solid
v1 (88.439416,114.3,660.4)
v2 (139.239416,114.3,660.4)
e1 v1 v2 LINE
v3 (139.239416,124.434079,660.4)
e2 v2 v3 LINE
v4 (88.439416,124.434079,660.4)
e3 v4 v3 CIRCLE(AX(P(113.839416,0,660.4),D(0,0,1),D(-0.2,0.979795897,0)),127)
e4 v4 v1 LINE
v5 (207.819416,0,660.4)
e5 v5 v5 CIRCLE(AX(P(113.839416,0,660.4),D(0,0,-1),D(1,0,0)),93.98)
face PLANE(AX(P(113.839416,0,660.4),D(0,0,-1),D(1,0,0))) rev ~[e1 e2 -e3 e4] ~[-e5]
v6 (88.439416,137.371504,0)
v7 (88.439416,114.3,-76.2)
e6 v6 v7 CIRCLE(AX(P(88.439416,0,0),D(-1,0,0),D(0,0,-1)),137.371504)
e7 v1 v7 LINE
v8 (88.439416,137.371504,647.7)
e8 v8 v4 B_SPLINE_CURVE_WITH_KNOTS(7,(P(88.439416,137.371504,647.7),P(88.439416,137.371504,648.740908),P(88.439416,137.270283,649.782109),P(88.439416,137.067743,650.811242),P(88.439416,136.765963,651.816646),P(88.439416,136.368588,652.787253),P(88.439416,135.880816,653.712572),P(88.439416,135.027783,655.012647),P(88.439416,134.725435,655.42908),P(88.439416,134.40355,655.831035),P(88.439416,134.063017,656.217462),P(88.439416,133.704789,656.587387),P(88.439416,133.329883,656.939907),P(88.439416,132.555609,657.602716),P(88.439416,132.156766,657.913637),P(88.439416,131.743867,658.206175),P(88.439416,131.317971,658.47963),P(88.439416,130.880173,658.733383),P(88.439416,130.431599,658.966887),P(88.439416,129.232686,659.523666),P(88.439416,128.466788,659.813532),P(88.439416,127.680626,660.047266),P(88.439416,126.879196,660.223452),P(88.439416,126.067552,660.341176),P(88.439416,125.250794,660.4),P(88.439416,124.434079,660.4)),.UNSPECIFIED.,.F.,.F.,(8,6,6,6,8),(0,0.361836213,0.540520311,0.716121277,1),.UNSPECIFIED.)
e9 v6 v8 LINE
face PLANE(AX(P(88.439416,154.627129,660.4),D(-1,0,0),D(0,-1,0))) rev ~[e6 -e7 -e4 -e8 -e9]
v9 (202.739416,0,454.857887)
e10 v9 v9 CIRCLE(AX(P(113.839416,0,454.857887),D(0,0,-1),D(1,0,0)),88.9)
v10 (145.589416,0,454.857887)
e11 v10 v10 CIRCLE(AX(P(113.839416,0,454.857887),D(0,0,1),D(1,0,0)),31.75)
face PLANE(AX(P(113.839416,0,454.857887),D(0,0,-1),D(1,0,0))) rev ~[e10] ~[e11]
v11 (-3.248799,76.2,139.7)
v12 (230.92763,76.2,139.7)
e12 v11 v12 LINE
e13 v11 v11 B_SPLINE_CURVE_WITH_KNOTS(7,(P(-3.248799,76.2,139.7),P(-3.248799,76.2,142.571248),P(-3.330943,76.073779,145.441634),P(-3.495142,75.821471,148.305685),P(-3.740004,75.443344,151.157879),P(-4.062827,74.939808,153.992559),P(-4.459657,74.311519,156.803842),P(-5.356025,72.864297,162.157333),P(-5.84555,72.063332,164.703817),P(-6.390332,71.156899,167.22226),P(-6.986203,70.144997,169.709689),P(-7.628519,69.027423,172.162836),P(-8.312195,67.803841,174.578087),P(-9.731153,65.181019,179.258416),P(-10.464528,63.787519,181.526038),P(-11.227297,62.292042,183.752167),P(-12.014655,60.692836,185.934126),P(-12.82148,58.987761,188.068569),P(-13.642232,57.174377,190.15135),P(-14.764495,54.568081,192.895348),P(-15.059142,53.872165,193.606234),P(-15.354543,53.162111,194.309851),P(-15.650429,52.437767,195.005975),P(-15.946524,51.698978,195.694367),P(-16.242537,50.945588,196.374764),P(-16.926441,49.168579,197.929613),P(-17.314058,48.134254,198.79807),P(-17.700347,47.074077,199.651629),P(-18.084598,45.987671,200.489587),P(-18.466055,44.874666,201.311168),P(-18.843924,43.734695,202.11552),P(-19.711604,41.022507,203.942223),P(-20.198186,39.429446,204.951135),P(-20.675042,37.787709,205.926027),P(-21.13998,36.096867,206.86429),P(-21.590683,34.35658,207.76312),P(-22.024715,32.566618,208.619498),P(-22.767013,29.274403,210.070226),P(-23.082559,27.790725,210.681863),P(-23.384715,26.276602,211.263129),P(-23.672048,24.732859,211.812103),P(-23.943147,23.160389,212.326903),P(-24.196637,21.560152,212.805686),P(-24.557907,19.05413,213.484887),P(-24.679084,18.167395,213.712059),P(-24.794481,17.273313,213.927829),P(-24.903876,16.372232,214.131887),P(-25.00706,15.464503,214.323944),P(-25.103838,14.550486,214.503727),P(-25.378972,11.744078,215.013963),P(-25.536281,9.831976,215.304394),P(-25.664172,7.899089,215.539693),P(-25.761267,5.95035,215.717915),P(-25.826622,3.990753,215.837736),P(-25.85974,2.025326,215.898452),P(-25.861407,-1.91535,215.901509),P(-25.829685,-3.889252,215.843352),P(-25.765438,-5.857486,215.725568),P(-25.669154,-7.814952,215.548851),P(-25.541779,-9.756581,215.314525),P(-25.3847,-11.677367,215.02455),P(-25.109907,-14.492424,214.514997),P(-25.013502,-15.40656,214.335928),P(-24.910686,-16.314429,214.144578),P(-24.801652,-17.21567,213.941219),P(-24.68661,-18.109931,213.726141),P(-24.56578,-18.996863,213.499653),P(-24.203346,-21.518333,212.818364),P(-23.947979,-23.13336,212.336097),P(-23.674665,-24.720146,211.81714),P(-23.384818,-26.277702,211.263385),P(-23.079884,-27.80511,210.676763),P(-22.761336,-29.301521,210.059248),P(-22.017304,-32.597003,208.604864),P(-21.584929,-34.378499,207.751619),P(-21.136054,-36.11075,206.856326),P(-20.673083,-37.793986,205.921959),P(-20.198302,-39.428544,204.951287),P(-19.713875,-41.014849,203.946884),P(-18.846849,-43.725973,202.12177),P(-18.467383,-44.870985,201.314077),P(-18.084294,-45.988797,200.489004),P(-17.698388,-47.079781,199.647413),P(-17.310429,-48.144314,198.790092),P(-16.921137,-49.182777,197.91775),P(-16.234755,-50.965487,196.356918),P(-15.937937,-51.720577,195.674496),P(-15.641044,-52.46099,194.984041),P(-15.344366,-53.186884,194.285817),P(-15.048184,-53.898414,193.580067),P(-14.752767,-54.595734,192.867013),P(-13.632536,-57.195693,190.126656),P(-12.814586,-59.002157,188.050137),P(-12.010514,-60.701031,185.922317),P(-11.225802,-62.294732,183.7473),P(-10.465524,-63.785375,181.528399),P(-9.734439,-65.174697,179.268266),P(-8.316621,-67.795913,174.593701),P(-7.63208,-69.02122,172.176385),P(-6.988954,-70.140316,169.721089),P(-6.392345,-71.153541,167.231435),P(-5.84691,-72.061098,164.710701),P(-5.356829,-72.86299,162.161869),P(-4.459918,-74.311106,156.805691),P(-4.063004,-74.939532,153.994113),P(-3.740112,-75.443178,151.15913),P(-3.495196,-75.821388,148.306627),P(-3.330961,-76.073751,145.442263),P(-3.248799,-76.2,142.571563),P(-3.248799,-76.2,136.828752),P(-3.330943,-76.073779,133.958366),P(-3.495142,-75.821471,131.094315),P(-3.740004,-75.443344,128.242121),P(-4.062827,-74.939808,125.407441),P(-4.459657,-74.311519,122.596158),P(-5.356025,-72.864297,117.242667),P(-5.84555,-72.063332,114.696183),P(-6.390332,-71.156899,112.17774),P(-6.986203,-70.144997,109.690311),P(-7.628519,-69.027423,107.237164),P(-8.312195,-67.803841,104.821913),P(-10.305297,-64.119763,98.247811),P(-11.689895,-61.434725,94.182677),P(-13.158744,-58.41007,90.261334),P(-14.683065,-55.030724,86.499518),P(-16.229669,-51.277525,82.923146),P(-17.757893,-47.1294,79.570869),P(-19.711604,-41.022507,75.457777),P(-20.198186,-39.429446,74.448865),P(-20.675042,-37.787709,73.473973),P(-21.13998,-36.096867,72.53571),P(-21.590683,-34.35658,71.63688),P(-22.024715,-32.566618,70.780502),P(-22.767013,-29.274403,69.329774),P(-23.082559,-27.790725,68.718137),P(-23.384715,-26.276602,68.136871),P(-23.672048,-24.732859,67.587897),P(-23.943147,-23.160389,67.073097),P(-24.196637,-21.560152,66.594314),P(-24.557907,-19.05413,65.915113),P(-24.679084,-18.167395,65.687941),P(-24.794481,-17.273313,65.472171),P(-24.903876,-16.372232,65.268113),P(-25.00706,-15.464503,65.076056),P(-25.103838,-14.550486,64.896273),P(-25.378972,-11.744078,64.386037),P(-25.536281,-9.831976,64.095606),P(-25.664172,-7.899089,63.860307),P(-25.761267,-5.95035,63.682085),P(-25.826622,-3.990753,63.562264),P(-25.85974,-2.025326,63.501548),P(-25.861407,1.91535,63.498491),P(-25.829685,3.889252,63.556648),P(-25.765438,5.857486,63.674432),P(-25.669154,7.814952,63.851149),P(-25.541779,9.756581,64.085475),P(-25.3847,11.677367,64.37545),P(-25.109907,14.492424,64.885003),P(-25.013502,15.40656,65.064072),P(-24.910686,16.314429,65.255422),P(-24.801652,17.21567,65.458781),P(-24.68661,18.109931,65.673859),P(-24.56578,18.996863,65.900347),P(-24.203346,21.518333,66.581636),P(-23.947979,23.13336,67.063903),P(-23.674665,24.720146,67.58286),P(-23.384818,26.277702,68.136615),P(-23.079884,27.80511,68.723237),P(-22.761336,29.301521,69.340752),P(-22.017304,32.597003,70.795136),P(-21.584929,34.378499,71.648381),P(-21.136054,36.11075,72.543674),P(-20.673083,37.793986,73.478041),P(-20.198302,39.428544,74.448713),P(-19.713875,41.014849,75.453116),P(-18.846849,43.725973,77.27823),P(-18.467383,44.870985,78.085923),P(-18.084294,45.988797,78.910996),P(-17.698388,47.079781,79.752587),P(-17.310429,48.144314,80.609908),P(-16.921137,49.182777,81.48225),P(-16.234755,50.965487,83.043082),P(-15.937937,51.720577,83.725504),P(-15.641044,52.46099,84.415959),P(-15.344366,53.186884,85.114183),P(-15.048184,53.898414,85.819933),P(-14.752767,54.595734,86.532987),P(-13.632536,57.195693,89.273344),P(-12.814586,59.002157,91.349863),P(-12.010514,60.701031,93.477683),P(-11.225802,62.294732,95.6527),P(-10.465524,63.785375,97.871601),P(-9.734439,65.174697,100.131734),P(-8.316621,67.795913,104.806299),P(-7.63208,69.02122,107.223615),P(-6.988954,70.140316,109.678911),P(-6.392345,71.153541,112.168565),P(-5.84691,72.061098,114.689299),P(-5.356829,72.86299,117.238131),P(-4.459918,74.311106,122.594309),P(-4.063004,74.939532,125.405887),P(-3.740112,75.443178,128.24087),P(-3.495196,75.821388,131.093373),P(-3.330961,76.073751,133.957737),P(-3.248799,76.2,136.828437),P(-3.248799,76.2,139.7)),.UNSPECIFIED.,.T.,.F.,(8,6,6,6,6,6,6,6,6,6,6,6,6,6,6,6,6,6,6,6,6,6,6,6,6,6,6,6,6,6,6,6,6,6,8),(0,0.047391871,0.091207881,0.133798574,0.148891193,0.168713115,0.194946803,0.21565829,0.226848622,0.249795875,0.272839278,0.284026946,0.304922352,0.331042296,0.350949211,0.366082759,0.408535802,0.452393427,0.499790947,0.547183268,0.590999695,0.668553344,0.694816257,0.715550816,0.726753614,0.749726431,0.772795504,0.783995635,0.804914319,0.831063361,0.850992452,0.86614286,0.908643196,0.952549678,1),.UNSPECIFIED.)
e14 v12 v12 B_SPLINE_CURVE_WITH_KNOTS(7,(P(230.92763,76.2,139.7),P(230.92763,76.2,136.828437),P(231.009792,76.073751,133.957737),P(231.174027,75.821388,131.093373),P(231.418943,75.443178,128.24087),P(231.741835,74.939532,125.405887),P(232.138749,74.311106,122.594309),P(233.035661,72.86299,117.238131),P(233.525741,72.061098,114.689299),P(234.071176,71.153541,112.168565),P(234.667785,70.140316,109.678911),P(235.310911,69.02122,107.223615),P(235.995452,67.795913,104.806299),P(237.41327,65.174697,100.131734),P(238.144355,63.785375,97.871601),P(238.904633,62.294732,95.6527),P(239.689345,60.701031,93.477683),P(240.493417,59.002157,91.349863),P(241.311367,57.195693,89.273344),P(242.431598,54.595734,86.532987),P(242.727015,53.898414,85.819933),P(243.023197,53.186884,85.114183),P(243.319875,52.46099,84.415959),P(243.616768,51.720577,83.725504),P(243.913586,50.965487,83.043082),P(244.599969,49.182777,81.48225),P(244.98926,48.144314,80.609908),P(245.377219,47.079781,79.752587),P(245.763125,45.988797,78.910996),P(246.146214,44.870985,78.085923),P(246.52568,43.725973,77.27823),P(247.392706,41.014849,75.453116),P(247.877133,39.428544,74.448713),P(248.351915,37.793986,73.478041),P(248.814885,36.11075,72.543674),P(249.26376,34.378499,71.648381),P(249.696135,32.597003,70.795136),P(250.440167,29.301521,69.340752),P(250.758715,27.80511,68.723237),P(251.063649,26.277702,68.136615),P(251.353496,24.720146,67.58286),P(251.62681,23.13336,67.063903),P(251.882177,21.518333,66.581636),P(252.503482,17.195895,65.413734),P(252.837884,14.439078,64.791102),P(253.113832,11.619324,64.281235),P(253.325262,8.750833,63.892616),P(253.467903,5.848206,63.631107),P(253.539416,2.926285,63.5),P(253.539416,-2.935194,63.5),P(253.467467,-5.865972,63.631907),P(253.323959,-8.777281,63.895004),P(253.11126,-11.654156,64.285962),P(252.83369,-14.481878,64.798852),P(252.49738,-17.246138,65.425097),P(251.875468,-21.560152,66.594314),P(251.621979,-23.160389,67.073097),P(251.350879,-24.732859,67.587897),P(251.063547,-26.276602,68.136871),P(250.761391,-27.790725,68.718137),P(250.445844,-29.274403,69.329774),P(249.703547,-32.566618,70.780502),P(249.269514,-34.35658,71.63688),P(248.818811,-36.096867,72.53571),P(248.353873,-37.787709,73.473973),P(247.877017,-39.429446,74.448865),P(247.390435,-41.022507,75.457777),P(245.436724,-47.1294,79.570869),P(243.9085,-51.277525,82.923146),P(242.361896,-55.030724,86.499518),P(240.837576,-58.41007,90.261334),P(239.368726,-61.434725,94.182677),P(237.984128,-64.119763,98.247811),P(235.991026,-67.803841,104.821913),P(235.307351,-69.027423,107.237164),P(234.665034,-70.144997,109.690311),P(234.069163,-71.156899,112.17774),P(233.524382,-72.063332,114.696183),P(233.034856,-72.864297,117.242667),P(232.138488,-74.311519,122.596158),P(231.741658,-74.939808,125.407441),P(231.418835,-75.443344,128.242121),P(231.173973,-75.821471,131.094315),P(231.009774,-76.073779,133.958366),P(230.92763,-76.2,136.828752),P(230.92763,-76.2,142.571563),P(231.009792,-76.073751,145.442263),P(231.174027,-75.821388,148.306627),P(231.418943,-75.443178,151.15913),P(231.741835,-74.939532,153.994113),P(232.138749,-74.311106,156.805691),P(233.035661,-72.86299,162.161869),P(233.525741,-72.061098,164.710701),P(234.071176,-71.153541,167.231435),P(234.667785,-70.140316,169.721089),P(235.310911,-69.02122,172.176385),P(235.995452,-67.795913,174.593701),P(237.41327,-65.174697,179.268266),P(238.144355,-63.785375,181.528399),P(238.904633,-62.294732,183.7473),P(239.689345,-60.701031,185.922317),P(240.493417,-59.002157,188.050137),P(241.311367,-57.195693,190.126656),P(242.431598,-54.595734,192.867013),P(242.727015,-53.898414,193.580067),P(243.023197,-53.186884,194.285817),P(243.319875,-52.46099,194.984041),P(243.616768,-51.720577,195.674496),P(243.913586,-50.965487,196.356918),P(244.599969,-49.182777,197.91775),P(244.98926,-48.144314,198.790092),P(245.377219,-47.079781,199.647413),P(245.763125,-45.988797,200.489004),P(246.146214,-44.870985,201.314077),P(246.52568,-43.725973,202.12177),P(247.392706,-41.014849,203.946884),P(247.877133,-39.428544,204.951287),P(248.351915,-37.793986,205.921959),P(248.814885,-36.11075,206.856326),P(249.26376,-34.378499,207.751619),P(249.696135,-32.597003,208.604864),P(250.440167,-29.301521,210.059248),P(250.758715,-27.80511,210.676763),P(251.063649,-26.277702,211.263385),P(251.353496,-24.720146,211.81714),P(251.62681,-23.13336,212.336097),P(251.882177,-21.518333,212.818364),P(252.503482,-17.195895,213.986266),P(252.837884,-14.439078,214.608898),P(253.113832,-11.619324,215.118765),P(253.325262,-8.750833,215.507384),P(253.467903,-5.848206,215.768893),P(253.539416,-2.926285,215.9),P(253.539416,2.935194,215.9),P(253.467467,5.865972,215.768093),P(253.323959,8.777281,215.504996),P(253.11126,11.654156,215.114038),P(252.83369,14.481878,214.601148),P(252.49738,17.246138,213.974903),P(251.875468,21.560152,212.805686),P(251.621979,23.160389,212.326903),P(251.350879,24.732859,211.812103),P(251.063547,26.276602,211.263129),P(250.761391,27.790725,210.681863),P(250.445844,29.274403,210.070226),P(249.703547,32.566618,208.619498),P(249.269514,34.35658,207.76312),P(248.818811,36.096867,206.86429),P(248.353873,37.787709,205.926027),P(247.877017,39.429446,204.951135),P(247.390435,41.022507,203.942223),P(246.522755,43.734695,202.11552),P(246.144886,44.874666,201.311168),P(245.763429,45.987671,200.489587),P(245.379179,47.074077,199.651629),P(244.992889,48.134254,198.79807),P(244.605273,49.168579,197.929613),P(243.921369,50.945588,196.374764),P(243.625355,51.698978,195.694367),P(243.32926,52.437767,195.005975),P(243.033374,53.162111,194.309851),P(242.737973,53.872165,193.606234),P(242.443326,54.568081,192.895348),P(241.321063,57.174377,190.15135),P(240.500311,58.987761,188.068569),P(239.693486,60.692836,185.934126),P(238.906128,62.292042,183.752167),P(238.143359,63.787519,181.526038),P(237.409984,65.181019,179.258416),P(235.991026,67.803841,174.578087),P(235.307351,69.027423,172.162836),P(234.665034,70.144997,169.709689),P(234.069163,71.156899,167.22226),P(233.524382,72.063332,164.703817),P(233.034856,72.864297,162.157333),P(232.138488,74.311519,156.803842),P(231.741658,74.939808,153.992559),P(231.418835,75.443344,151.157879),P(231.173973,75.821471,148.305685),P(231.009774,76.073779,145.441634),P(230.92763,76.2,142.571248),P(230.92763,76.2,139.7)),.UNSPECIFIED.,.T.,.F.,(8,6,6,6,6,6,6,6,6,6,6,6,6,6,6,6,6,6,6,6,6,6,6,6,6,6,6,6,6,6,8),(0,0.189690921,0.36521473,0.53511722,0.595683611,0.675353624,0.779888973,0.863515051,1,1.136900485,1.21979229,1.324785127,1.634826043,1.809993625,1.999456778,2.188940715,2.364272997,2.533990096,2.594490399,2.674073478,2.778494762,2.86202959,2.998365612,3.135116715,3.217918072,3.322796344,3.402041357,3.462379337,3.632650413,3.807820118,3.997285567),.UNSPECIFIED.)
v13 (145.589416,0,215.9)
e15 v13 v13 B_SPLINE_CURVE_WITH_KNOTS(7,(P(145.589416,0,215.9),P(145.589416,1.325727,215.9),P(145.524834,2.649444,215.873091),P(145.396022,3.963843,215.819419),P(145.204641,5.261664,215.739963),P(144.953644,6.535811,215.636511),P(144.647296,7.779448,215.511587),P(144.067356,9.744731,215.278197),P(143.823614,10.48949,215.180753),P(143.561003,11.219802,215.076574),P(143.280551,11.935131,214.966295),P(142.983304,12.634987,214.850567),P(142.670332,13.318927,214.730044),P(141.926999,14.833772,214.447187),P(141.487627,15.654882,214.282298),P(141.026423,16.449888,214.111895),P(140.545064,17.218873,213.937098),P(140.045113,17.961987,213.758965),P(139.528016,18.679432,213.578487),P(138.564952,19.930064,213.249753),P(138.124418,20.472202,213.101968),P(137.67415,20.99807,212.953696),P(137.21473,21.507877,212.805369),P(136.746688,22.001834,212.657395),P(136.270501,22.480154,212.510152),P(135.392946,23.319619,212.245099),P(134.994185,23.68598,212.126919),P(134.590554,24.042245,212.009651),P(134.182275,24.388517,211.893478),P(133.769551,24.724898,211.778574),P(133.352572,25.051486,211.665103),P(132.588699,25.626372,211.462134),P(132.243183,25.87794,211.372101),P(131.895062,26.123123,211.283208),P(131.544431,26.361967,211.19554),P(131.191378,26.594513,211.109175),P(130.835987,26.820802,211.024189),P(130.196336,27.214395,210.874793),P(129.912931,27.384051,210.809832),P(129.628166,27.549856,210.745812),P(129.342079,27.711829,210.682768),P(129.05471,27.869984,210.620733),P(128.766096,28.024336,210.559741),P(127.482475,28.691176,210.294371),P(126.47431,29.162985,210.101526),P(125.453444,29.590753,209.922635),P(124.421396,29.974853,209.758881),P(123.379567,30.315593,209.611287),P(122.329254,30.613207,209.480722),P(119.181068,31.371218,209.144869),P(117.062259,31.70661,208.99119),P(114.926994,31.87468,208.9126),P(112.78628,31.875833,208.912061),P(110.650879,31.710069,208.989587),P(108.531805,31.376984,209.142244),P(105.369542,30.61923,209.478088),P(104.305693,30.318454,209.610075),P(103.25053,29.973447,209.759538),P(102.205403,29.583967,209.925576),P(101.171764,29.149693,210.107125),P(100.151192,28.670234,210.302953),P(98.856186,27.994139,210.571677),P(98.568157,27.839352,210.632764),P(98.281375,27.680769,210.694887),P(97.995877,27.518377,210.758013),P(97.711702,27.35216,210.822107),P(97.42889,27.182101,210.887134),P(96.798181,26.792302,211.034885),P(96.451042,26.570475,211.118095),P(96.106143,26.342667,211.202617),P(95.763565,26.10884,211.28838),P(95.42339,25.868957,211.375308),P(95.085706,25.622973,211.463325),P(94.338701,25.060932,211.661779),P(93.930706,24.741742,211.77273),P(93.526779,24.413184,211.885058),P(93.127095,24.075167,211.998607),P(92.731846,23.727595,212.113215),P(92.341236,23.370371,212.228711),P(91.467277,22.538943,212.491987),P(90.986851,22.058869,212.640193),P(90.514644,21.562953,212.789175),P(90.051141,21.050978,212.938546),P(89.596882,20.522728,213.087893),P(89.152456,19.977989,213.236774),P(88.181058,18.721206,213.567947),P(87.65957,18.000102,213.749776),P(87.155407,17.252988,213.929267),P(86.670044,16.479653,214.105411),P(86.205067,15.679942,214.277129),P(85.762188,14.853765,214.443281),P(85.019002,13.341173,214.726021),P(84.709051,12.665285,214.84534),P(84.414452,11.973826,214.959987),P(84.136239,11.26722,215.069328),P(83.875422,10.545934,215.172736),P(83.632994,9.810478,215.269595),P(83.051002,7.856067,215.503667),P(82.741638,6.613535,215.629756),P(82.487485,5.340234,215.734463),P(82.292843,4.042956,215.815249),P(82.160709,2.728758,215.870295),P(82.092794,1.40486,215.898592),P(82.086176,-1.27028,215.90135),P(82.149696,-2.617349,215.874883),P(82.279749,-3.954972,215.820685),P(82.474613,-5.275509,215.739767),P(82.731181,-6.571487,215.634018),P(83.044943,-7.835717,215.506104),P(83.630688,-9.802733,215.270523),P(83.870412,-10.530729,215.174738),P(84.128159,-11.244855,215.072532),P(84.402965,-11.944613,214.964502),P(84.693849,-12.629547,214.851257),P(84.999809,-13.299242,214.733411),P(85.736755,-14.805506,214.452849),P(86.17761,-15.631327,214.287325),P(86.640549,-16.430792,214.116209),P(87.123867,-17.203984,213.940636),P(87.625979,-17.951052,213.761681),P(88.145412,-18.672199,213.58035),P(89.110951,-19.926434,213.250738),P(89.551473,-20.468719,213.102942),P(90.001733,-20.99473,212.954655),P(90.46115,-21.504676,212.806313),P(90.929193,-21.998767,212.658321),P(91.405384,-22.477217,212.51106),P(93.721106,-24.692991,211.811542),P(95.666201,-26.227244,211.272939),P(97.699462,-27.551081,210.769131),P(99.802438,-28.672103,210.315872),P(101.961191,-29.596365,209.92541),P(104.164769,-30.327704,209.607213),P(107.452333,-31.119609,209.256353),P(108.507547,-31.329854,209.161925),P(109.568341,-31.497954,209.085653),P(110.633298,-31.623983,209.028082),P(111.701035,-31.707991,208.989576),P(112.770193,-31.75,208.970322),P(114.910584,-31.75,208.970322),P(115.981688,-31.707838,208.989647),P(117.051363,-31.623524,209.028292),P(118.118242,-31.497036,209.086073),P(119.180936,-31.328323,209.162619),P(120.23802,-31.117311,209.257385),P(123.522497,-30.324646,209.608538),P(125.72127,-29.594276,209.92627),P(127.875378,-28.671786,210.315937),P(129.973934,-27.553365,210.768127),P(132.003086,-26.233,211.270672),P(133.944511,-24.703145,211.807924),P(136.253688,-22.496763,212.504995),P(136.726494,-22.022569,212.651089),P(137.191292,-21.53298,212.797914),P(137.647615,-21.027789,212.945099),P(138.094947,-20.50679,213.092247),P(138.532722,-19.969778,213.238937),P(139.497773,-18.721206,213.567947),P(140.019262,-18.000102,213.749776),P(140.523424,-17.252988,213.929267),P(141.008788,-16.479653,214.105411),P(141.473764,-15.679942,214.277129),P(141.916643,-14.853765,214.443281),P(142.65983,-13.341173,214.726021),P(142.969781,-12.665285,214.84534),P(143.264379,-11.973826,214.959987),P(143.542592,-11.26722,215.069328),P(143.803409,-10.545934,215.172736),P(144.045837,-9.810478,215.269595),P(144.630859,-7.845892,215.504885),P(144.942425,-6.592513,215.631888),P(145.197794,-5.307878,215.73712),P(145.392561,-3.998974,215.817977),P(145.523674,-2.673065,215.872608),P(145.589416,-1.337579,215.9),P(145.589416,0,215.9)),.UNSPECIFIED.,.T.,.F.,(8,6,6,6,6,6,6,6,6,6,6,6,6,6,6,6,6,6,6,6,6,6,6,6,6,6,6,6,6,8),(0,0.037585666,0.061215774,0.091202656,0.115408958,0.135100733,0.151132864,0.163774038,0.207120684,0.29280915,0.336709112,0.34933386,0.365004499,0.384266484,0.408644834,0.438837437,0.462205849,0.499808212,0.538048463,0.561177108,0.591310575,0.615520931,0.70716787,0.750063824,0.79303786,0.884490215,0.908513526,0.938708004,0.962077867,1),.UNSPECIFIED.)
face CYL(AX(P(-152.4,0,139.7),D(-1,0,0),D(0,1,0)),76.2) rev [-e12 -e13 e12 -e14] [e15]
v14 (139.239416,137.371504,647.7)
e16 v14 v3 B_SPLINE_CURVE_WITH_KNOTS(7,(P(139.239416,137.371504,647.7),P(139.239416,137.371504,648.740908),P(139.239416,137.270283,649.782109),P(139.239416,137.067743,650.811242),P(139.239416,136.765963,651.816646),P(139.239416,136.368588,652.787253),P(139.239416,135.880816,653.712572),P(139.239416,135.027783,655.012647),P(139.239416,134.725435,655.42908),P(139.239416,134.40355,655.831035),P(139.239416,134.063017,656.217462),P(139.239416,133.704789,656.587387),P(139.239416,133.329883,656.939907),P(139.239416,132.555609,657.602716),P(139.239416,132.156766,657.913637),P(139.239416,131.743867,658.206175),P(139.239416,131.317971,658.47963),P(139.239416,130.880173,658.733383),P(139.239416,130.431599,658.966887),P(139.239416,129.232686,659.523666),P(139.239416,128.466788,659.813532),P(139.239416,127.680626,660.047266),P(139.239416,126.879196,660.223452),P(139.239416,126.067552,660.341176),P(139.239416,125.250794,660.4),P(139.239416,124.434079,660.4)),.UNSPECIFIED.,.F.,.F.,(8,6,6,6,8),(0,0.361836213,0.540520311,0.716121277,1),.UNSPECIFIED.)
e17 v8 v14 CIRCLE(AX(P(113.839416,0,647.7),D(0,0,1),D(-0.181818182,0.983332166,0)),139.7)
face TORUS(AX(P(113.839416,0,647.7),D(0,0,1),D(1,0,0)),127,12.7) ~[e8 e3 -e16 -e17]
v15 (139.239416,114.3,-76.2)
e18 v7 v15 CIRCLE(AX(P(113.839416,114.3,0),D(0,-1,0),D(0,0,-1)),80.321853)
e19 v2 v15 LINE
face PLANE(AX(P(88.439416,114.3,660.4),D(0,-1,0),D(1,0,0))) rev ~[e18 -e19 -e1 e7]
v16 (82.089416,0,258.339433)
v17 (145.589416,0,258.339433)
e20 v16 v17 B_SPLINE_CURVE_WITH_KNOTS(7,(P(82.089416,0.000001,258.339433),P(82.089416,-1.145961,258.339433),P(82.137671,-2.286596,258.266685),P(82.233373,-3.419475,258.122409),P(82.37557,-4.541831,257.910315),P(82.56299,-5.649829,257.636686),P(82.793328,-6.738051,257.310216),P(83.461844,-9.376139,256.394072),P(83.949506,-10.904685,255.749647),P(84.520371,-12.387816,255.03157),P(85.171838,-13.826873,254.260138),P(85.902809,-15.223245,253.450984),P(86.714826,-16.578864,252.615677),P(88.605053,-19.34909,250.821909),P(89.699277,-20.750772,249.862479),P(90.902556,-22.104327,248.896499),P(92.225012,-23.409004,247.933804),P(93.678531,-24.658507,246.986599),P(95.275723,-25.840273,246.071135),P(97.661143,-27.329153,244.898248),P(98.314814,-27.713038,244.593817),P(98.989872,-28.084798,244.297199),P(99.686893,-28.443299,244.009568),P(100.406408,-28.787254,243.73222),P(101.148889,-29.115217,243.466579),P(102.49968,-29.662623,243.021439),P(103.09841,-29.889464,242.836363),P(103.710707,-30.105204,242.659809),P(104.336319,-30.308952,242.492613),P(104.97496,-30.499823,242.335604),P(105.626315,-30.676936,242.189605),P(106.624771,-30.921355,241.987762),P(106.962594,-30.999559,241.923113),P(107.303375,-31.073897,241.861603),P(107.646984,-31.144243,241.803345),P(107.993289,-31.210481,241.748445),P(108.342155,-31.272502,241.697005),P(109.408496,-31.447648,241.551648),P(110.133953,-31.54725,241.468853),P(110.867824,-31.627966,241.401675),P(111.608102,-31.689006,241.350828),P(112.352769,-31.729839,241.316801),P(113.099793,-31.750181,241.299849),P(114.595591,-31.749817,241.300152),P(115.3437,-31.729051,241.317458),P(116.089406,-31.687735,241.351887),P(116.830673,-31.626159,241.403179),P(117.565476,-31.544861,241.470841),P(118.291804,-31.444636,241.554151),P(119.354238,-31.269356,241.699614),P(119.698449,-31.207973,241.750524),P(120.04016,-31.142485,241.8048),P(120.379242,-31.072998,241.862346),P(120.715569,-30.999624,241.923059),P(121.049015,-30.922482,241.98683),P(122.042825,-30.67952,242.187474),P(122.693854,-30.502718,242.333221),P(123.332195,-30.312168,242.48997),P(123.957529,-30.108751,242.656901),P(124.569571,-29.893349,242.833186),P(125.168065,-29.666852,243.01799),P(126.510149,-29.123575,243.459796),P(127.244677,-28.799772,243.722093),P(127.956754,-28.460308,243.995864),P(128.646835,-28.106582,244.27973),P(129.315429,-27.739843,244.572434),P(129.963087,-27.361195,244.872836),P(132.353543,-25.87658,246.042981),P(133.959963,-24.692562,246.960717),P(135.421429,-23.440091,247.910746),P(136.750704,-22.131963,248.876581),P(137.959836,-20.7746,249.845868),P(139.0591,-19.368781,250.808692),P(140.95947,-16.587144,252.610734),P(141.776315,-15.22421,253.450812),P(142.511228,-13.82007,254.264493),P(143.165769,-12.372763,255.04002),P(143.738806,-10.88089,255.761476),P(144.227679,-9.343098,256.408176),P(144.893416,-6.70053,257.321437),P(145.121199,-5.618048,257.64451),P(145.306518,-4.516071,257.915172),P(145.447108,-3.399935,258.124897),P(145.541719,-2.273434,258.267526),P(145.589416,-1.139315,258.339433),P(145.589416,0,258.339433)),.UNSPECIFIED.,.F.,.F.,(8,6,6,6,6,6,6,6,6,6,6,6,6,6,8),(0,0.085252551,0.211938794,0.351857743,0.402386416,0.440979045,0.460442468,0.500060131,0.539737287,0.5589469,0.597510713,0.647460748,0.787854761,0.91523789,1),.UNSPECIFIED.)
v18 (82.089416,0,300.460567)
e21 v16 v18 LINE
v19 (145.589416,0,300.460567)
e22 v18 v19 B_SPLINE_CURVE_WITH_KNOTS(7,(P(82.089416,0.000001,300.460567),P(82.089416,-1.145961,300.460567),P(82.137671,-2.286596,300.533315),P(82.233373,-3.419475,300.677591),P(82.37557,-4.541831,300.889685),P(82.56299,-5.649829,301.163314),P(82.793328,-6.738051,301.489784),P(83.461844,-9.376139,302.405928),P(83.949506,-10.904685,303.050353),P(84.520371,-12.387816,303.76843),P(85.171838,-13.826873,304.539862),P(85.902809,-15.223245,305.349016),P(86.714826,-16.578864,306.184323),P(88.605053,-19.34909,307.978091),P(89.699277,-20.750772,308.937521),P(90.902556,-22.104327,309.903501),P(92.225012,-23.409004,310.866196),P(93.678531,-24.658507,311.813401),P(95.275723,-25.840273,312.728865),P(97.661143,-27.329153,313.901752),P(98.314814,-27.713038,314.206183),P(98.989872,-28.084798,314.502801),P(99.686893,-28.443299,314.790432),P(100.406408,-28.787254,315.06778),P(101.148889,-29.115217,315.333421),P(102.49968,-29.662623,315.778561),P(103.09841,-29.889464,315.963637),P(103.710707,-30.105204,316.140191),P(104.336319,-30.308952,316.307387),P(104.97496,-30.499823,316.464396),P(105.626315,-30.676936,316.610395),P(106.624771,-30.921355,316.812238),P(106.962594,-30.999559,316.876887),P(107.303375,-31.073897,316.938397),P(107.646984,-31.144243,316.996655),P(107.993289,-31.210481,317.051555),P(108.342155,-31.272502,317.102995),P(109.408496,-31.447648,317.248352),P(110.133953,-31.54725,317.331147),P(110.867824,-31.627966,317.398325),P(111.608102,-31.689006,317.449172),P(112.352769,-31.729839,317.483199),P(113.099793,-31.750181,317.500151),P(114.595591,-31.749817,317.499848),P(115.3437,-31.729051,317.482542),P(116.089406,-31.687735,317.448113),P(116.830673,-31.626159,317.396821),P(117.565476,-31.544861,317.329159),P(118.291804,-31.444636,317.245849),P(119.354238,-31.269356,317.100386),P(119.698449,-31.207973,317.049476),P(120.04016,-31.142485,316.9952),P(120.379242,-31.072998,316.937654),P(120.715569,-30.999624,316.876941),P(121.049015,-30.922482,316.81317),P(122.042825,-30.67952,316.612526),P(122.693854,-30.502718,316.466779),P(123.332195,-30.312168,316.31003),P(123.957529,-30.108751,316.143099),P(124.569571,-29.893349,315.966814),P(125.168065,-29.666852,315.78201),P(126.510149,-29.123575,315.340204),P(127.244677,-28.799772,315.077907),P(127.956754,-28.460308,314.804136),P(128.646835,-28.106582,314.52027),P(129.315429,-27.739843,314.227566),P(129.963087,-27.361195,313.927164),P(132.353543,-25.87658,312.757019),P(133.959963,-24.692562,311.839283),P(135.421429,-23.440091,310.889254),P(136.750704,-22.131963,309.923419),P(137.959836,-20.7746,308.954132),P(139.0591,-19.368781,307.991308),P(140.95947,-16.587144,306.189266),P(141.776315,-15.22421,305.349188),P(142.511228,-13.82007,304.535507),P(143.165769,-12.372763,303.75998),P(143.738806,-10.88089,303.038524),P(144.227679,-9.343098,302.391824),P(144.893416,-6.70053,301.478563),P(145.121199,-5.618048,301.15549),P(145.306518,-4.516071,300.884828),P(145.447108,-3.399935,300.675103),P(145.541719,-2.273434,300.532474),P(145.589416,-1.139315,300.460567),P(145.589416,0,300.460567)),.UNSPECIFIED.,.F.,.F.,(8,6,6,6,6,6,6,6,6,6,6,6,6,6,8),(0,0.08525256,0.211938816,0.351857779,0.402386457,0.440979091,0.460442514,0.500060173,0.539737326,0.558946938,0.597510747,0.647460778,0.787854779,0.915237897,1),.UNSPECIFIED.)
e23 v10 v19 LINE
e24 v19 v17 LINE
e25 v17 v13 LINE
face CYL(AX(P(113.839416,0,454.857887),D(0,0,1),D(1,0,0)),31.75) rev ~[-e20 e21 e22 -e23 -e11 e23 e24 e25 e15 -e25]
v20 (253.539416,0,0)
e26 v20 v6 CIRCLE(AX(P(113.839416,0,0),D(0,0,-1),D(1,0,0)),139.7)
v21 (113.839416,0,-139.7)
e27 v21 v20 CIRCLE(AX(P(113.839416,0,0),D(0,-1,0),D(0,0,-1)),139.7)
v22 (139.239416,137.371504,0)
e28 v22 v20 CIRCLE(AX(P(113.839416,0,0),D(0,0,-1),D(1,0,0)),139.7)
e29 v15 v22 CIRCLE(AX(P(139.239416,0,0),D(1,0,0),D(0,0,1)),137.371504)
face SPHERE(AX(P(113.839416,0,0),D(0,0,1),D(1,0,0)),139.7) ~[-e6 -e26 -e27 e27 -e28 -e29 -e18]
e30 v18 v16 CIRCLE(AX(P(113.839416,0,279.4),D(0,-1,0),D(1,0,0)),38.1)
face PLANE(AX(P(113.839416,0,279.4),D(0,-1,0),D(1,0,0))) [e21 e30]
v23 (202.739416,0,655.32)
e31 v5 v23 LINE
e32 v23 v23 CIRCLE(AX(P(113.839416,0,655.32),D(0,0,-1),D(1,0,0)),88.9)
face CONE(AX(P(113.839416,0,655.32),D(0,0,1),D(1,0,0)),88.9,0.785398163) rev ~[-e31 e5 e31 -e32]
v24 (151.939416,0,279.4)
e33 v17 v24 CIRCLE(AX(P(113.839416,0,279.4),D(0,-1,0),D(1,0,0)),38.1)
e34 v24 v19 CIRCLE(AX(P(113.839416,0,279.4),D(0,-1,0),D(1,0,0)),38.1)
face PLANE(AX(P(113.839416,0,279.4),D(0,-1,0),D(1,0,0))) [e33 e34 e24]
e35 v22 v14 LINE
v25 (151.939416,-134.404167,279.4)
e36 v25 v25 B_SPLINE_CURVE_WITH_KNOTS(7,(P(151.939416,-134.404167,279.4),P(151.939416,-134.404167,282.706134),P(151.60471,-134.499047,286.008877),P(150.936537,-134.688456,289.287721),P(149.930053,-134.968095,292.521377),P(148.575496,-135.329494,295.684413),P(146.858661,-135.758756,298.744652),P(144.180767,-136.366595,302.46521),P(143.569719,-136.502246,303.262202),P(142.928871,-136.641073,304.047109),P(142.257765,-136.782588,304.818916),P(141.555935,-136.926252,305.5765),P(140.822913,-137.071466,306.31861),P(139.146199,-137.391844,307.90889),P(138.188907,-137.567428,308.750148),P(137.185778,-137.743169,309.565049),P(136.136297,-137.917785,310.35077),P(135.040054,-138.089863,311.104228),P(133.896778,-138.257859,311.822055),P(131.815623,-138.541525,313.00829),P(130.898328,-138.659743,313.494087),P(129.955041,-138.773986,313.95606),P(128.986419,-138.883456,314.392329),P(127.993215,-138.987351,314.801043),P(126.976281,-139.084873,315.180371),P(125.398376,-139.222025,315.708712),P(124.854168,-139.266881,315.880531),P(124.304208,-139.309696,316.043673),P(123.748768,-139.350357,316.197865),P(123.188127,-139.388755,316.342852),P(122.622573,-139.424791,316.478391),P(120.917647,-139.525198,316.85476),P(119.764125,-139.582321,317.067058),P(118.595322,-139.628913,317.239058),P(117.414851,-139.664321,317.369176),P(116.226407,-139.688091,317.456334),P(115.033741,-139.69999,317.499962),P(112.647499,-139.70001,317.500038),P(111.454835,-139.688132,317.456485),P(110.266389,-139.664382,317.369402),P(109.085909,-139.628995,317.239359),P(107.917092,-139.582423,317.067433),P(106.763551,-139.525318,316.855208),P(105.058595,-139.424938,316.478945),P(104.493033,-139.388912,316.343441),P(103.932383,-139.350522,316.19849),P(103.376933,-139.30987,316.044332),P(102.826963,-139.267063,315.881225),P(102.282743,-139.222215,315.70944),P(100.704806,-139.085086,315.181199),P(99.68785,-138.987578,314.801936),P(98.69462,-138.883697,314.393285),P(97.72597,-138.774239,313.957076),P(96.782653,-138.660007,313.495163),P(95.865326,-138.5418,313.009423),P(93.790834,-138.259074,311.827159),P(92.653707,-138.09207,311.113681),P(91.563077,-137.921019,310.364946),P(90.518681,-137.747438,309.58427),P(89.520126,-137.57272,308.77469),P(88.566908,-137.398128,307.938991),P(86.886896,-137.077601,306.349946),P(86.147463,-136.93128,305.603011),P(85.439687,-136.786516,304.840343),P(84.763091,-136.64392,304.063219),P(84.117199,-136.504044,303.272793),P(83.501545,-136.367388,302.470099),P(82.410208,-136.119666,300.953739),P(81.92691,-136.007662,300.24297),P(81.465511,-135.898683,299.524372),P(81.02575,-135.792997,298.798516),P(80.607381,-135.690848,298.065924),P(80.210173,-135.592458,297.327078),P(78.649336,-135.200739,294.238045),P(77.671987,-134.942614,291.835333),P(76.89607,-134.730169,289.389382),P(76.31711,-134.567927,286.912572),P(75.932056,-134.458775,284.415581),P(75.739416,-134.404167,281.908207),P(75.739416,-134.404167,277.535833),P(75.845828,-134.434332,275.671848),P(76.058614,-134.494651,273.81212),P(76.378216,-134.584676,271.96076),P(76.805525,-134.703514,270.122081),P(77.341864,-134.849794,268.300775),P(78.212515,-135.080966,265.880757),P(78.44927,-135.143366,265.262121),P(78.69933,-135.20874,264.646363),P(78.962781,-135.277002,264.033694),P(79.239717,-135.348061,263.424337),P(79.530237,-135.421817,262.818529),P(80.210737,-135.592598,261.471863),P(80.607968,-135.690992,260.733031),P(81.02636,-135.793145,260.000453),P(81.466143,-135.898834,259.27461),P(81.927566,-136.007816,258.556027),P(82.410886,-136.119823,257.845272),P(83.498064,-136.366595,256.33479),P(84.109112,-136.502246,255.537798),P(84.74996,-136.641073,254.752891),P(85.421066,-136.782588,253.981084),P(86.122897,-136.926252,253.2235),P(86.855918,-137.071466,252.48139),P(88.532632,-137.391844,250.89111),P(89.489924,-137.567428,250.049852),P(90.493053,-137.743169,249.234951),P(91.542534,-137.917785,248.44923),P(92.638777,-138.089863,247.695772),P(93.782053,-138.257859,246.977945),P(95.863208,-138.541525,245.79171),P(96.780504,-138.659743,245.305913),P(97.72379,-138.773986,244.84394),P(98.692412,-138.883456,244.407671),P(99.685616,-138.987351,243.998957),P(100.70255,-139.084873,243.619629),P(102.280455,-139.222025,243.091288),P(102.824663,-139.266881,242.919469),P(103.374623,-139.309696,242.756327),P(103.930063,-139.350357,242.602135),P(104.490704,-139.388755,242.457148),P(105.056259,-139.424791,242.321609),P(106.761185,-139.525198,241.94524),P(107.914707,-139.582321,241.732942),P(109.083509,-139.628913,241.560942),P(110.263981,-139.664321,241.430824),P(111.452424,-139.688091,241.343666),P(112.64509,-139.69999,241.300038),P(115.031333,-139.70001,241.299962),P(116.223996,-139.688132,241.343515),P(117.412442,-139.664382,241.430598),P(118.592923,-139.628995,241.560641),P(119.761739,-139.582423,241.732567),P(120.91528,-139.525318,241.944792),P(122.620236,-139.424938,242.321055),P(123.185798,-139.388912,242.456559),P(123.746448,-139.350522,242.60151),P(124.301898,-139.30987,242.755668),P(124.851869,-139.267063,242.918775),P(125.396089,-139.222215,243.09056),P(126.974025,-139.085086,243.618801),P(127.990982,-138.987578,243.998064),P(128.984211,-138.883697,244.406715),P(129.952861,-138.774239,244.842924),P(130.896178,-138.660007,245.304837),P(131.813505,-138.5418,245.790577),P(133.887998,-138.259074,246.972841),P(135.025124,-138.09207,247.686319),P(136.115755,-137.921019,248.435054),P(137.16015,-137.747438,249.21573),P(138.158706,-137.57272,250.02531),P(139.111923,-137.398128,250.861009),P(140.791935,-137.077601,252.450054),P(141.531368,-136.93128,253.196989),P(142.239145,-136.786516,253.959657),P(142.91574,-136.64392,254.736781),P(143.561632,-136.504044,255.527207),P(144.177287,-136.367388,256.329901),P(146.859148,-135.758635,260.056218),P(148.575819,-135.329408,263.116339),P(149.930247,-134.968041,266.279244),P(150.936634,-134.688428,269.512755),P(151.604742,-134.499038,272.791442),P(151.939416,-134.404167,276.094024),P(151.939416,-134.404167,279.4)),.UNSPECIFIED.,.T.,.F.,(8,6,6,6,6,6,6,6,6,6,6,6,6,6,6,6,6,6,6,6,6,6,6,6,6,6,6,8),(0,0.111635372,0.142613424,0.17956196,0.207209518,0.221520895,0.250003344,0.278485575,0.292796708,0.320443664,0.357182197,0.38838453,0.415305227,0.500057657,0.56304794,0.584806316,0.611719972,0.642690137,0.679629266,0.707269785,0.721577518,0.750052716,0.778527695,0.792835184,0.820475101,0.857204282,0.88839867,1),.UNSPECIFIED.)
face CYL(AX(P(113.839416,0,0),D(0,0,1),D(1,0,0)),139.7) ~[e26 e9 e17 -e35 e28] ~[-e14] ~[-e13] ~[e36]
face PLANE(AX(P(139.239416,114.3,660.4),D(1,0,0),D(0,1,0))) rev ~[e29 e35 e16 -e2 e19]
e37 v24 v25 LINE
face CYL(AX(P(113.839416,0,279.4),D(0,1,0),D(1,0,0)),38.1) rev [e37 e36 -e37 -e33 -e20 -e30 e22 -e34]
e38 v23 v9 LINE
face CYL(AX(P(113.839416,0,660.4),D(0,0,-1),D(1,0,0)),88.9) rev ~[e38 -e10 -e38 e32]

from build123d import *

# Parameters (mm, degrees)
F2_SIZE   = 5.08
F4_DEPTH  = 806.27653
F6_R      = 76.2
F7_DEPTH  = 635.34323
F8_R      = 31.75
F9_DEPTH  = 343.56878
F10_R     = 38.1
F11_DEPTH = 418.60546


with BuildPart() as f1:
    # F0 (on Front) → F1 (revolve)
    with BuildSketch(Plane.XZ):
        with BuildLine():
            Line((202.739415619, 454.8578867186), (113.839415619, 454.8578867186))
            Line((113.839415619, 454.8578867186), (113.839415619, -139.7))
            ThreePointArc((113.839415619, -139.7), (212.6222329507, -98.7828173318), (253.539415619, 0))
            Line((253.539415619, 0), (253.539415619, 647.7))
            ThreePointArc((253.539415619, 647.7), (249.81967174, 656.6802561211), (240.839415619, 660.4))
            Line((240.839415619, 660.4), (202.739415619, 660.4))
            Line((202.739415619, 660.4), (202.739415619, 454.8578867186))
        make_face()
    revolve(axis=Axis((113.839415619, 0, 157.5789433593), (0, 0, -1)))

    # F2
    f2_edges = [f1.edges().sort_by_distance(p)[0] for p in [
        (24.939416, 0, 660.4),
    ]]
    chamfer(f2_edges, length=F2_SIZE)

    # F3 (on face) → F4 (cut)
    with BuildSketch(Plane.XY.offset(660.4)):
        with BuildLine():
            Line((139.239415619, 154.6271294355), (88.439415619, 154.6271294355))
            Line((88.439415619, 154.6271294355), (88.439415619, 124.4340789334))
            ThreePointArc((88.439415619, 124.4340789334), (113.839415619, 127), (139.239415619, 124.4340789334))
            Line((139.239415619, 124.4340789334), (139.239415619, 154.6271294355))
        make_face()
        with BuildLine():
            ThreePointArc((139.239415619, 124.4340789334), (113.839415619, 127), (88.439415619, 124.4340789334))
            Line((88.439415619, 124.4340789334), (88.439415619, 114.3))
            Line((88.439415619, 114.3), (139.239415619, 114.3))
            Line((139.239415619, 114.3), (139.239415619, 124.4340789334))
        make_face()
    extrude(amount=-F4_DEPTH, mode=Mode.SUBTRACT)

    # F6 (on offset) → F7 (cut)
    with BuildSketch(Plane.YZ.offset(-152.4)):
        with Locations((0, 139.7)):
            Circle(F6_R)
    extrude(amount=F7_DEPTH, mode=Mode.SUBTRACT)

    # F8 (on face) → F9 (cut)
    with BuildSketch(Plane.XY.offset(454.8578867186)):
        with Locations((113.839415619, 0)):
            Circle(F8_R)
    extrude(amount=-F9_DEPTH, mode=Mode.SUBTRACT)

    # F10 (on Front) → F11 (cut)
    with BuildSketch(Plane.XZ):
        with Locations((113.839415619, 279.4)):
            Circle(F10_R)
    extrude(amount=F11_DEPTH, mode=Mode.SUBTRACT)


solid = f1.part
